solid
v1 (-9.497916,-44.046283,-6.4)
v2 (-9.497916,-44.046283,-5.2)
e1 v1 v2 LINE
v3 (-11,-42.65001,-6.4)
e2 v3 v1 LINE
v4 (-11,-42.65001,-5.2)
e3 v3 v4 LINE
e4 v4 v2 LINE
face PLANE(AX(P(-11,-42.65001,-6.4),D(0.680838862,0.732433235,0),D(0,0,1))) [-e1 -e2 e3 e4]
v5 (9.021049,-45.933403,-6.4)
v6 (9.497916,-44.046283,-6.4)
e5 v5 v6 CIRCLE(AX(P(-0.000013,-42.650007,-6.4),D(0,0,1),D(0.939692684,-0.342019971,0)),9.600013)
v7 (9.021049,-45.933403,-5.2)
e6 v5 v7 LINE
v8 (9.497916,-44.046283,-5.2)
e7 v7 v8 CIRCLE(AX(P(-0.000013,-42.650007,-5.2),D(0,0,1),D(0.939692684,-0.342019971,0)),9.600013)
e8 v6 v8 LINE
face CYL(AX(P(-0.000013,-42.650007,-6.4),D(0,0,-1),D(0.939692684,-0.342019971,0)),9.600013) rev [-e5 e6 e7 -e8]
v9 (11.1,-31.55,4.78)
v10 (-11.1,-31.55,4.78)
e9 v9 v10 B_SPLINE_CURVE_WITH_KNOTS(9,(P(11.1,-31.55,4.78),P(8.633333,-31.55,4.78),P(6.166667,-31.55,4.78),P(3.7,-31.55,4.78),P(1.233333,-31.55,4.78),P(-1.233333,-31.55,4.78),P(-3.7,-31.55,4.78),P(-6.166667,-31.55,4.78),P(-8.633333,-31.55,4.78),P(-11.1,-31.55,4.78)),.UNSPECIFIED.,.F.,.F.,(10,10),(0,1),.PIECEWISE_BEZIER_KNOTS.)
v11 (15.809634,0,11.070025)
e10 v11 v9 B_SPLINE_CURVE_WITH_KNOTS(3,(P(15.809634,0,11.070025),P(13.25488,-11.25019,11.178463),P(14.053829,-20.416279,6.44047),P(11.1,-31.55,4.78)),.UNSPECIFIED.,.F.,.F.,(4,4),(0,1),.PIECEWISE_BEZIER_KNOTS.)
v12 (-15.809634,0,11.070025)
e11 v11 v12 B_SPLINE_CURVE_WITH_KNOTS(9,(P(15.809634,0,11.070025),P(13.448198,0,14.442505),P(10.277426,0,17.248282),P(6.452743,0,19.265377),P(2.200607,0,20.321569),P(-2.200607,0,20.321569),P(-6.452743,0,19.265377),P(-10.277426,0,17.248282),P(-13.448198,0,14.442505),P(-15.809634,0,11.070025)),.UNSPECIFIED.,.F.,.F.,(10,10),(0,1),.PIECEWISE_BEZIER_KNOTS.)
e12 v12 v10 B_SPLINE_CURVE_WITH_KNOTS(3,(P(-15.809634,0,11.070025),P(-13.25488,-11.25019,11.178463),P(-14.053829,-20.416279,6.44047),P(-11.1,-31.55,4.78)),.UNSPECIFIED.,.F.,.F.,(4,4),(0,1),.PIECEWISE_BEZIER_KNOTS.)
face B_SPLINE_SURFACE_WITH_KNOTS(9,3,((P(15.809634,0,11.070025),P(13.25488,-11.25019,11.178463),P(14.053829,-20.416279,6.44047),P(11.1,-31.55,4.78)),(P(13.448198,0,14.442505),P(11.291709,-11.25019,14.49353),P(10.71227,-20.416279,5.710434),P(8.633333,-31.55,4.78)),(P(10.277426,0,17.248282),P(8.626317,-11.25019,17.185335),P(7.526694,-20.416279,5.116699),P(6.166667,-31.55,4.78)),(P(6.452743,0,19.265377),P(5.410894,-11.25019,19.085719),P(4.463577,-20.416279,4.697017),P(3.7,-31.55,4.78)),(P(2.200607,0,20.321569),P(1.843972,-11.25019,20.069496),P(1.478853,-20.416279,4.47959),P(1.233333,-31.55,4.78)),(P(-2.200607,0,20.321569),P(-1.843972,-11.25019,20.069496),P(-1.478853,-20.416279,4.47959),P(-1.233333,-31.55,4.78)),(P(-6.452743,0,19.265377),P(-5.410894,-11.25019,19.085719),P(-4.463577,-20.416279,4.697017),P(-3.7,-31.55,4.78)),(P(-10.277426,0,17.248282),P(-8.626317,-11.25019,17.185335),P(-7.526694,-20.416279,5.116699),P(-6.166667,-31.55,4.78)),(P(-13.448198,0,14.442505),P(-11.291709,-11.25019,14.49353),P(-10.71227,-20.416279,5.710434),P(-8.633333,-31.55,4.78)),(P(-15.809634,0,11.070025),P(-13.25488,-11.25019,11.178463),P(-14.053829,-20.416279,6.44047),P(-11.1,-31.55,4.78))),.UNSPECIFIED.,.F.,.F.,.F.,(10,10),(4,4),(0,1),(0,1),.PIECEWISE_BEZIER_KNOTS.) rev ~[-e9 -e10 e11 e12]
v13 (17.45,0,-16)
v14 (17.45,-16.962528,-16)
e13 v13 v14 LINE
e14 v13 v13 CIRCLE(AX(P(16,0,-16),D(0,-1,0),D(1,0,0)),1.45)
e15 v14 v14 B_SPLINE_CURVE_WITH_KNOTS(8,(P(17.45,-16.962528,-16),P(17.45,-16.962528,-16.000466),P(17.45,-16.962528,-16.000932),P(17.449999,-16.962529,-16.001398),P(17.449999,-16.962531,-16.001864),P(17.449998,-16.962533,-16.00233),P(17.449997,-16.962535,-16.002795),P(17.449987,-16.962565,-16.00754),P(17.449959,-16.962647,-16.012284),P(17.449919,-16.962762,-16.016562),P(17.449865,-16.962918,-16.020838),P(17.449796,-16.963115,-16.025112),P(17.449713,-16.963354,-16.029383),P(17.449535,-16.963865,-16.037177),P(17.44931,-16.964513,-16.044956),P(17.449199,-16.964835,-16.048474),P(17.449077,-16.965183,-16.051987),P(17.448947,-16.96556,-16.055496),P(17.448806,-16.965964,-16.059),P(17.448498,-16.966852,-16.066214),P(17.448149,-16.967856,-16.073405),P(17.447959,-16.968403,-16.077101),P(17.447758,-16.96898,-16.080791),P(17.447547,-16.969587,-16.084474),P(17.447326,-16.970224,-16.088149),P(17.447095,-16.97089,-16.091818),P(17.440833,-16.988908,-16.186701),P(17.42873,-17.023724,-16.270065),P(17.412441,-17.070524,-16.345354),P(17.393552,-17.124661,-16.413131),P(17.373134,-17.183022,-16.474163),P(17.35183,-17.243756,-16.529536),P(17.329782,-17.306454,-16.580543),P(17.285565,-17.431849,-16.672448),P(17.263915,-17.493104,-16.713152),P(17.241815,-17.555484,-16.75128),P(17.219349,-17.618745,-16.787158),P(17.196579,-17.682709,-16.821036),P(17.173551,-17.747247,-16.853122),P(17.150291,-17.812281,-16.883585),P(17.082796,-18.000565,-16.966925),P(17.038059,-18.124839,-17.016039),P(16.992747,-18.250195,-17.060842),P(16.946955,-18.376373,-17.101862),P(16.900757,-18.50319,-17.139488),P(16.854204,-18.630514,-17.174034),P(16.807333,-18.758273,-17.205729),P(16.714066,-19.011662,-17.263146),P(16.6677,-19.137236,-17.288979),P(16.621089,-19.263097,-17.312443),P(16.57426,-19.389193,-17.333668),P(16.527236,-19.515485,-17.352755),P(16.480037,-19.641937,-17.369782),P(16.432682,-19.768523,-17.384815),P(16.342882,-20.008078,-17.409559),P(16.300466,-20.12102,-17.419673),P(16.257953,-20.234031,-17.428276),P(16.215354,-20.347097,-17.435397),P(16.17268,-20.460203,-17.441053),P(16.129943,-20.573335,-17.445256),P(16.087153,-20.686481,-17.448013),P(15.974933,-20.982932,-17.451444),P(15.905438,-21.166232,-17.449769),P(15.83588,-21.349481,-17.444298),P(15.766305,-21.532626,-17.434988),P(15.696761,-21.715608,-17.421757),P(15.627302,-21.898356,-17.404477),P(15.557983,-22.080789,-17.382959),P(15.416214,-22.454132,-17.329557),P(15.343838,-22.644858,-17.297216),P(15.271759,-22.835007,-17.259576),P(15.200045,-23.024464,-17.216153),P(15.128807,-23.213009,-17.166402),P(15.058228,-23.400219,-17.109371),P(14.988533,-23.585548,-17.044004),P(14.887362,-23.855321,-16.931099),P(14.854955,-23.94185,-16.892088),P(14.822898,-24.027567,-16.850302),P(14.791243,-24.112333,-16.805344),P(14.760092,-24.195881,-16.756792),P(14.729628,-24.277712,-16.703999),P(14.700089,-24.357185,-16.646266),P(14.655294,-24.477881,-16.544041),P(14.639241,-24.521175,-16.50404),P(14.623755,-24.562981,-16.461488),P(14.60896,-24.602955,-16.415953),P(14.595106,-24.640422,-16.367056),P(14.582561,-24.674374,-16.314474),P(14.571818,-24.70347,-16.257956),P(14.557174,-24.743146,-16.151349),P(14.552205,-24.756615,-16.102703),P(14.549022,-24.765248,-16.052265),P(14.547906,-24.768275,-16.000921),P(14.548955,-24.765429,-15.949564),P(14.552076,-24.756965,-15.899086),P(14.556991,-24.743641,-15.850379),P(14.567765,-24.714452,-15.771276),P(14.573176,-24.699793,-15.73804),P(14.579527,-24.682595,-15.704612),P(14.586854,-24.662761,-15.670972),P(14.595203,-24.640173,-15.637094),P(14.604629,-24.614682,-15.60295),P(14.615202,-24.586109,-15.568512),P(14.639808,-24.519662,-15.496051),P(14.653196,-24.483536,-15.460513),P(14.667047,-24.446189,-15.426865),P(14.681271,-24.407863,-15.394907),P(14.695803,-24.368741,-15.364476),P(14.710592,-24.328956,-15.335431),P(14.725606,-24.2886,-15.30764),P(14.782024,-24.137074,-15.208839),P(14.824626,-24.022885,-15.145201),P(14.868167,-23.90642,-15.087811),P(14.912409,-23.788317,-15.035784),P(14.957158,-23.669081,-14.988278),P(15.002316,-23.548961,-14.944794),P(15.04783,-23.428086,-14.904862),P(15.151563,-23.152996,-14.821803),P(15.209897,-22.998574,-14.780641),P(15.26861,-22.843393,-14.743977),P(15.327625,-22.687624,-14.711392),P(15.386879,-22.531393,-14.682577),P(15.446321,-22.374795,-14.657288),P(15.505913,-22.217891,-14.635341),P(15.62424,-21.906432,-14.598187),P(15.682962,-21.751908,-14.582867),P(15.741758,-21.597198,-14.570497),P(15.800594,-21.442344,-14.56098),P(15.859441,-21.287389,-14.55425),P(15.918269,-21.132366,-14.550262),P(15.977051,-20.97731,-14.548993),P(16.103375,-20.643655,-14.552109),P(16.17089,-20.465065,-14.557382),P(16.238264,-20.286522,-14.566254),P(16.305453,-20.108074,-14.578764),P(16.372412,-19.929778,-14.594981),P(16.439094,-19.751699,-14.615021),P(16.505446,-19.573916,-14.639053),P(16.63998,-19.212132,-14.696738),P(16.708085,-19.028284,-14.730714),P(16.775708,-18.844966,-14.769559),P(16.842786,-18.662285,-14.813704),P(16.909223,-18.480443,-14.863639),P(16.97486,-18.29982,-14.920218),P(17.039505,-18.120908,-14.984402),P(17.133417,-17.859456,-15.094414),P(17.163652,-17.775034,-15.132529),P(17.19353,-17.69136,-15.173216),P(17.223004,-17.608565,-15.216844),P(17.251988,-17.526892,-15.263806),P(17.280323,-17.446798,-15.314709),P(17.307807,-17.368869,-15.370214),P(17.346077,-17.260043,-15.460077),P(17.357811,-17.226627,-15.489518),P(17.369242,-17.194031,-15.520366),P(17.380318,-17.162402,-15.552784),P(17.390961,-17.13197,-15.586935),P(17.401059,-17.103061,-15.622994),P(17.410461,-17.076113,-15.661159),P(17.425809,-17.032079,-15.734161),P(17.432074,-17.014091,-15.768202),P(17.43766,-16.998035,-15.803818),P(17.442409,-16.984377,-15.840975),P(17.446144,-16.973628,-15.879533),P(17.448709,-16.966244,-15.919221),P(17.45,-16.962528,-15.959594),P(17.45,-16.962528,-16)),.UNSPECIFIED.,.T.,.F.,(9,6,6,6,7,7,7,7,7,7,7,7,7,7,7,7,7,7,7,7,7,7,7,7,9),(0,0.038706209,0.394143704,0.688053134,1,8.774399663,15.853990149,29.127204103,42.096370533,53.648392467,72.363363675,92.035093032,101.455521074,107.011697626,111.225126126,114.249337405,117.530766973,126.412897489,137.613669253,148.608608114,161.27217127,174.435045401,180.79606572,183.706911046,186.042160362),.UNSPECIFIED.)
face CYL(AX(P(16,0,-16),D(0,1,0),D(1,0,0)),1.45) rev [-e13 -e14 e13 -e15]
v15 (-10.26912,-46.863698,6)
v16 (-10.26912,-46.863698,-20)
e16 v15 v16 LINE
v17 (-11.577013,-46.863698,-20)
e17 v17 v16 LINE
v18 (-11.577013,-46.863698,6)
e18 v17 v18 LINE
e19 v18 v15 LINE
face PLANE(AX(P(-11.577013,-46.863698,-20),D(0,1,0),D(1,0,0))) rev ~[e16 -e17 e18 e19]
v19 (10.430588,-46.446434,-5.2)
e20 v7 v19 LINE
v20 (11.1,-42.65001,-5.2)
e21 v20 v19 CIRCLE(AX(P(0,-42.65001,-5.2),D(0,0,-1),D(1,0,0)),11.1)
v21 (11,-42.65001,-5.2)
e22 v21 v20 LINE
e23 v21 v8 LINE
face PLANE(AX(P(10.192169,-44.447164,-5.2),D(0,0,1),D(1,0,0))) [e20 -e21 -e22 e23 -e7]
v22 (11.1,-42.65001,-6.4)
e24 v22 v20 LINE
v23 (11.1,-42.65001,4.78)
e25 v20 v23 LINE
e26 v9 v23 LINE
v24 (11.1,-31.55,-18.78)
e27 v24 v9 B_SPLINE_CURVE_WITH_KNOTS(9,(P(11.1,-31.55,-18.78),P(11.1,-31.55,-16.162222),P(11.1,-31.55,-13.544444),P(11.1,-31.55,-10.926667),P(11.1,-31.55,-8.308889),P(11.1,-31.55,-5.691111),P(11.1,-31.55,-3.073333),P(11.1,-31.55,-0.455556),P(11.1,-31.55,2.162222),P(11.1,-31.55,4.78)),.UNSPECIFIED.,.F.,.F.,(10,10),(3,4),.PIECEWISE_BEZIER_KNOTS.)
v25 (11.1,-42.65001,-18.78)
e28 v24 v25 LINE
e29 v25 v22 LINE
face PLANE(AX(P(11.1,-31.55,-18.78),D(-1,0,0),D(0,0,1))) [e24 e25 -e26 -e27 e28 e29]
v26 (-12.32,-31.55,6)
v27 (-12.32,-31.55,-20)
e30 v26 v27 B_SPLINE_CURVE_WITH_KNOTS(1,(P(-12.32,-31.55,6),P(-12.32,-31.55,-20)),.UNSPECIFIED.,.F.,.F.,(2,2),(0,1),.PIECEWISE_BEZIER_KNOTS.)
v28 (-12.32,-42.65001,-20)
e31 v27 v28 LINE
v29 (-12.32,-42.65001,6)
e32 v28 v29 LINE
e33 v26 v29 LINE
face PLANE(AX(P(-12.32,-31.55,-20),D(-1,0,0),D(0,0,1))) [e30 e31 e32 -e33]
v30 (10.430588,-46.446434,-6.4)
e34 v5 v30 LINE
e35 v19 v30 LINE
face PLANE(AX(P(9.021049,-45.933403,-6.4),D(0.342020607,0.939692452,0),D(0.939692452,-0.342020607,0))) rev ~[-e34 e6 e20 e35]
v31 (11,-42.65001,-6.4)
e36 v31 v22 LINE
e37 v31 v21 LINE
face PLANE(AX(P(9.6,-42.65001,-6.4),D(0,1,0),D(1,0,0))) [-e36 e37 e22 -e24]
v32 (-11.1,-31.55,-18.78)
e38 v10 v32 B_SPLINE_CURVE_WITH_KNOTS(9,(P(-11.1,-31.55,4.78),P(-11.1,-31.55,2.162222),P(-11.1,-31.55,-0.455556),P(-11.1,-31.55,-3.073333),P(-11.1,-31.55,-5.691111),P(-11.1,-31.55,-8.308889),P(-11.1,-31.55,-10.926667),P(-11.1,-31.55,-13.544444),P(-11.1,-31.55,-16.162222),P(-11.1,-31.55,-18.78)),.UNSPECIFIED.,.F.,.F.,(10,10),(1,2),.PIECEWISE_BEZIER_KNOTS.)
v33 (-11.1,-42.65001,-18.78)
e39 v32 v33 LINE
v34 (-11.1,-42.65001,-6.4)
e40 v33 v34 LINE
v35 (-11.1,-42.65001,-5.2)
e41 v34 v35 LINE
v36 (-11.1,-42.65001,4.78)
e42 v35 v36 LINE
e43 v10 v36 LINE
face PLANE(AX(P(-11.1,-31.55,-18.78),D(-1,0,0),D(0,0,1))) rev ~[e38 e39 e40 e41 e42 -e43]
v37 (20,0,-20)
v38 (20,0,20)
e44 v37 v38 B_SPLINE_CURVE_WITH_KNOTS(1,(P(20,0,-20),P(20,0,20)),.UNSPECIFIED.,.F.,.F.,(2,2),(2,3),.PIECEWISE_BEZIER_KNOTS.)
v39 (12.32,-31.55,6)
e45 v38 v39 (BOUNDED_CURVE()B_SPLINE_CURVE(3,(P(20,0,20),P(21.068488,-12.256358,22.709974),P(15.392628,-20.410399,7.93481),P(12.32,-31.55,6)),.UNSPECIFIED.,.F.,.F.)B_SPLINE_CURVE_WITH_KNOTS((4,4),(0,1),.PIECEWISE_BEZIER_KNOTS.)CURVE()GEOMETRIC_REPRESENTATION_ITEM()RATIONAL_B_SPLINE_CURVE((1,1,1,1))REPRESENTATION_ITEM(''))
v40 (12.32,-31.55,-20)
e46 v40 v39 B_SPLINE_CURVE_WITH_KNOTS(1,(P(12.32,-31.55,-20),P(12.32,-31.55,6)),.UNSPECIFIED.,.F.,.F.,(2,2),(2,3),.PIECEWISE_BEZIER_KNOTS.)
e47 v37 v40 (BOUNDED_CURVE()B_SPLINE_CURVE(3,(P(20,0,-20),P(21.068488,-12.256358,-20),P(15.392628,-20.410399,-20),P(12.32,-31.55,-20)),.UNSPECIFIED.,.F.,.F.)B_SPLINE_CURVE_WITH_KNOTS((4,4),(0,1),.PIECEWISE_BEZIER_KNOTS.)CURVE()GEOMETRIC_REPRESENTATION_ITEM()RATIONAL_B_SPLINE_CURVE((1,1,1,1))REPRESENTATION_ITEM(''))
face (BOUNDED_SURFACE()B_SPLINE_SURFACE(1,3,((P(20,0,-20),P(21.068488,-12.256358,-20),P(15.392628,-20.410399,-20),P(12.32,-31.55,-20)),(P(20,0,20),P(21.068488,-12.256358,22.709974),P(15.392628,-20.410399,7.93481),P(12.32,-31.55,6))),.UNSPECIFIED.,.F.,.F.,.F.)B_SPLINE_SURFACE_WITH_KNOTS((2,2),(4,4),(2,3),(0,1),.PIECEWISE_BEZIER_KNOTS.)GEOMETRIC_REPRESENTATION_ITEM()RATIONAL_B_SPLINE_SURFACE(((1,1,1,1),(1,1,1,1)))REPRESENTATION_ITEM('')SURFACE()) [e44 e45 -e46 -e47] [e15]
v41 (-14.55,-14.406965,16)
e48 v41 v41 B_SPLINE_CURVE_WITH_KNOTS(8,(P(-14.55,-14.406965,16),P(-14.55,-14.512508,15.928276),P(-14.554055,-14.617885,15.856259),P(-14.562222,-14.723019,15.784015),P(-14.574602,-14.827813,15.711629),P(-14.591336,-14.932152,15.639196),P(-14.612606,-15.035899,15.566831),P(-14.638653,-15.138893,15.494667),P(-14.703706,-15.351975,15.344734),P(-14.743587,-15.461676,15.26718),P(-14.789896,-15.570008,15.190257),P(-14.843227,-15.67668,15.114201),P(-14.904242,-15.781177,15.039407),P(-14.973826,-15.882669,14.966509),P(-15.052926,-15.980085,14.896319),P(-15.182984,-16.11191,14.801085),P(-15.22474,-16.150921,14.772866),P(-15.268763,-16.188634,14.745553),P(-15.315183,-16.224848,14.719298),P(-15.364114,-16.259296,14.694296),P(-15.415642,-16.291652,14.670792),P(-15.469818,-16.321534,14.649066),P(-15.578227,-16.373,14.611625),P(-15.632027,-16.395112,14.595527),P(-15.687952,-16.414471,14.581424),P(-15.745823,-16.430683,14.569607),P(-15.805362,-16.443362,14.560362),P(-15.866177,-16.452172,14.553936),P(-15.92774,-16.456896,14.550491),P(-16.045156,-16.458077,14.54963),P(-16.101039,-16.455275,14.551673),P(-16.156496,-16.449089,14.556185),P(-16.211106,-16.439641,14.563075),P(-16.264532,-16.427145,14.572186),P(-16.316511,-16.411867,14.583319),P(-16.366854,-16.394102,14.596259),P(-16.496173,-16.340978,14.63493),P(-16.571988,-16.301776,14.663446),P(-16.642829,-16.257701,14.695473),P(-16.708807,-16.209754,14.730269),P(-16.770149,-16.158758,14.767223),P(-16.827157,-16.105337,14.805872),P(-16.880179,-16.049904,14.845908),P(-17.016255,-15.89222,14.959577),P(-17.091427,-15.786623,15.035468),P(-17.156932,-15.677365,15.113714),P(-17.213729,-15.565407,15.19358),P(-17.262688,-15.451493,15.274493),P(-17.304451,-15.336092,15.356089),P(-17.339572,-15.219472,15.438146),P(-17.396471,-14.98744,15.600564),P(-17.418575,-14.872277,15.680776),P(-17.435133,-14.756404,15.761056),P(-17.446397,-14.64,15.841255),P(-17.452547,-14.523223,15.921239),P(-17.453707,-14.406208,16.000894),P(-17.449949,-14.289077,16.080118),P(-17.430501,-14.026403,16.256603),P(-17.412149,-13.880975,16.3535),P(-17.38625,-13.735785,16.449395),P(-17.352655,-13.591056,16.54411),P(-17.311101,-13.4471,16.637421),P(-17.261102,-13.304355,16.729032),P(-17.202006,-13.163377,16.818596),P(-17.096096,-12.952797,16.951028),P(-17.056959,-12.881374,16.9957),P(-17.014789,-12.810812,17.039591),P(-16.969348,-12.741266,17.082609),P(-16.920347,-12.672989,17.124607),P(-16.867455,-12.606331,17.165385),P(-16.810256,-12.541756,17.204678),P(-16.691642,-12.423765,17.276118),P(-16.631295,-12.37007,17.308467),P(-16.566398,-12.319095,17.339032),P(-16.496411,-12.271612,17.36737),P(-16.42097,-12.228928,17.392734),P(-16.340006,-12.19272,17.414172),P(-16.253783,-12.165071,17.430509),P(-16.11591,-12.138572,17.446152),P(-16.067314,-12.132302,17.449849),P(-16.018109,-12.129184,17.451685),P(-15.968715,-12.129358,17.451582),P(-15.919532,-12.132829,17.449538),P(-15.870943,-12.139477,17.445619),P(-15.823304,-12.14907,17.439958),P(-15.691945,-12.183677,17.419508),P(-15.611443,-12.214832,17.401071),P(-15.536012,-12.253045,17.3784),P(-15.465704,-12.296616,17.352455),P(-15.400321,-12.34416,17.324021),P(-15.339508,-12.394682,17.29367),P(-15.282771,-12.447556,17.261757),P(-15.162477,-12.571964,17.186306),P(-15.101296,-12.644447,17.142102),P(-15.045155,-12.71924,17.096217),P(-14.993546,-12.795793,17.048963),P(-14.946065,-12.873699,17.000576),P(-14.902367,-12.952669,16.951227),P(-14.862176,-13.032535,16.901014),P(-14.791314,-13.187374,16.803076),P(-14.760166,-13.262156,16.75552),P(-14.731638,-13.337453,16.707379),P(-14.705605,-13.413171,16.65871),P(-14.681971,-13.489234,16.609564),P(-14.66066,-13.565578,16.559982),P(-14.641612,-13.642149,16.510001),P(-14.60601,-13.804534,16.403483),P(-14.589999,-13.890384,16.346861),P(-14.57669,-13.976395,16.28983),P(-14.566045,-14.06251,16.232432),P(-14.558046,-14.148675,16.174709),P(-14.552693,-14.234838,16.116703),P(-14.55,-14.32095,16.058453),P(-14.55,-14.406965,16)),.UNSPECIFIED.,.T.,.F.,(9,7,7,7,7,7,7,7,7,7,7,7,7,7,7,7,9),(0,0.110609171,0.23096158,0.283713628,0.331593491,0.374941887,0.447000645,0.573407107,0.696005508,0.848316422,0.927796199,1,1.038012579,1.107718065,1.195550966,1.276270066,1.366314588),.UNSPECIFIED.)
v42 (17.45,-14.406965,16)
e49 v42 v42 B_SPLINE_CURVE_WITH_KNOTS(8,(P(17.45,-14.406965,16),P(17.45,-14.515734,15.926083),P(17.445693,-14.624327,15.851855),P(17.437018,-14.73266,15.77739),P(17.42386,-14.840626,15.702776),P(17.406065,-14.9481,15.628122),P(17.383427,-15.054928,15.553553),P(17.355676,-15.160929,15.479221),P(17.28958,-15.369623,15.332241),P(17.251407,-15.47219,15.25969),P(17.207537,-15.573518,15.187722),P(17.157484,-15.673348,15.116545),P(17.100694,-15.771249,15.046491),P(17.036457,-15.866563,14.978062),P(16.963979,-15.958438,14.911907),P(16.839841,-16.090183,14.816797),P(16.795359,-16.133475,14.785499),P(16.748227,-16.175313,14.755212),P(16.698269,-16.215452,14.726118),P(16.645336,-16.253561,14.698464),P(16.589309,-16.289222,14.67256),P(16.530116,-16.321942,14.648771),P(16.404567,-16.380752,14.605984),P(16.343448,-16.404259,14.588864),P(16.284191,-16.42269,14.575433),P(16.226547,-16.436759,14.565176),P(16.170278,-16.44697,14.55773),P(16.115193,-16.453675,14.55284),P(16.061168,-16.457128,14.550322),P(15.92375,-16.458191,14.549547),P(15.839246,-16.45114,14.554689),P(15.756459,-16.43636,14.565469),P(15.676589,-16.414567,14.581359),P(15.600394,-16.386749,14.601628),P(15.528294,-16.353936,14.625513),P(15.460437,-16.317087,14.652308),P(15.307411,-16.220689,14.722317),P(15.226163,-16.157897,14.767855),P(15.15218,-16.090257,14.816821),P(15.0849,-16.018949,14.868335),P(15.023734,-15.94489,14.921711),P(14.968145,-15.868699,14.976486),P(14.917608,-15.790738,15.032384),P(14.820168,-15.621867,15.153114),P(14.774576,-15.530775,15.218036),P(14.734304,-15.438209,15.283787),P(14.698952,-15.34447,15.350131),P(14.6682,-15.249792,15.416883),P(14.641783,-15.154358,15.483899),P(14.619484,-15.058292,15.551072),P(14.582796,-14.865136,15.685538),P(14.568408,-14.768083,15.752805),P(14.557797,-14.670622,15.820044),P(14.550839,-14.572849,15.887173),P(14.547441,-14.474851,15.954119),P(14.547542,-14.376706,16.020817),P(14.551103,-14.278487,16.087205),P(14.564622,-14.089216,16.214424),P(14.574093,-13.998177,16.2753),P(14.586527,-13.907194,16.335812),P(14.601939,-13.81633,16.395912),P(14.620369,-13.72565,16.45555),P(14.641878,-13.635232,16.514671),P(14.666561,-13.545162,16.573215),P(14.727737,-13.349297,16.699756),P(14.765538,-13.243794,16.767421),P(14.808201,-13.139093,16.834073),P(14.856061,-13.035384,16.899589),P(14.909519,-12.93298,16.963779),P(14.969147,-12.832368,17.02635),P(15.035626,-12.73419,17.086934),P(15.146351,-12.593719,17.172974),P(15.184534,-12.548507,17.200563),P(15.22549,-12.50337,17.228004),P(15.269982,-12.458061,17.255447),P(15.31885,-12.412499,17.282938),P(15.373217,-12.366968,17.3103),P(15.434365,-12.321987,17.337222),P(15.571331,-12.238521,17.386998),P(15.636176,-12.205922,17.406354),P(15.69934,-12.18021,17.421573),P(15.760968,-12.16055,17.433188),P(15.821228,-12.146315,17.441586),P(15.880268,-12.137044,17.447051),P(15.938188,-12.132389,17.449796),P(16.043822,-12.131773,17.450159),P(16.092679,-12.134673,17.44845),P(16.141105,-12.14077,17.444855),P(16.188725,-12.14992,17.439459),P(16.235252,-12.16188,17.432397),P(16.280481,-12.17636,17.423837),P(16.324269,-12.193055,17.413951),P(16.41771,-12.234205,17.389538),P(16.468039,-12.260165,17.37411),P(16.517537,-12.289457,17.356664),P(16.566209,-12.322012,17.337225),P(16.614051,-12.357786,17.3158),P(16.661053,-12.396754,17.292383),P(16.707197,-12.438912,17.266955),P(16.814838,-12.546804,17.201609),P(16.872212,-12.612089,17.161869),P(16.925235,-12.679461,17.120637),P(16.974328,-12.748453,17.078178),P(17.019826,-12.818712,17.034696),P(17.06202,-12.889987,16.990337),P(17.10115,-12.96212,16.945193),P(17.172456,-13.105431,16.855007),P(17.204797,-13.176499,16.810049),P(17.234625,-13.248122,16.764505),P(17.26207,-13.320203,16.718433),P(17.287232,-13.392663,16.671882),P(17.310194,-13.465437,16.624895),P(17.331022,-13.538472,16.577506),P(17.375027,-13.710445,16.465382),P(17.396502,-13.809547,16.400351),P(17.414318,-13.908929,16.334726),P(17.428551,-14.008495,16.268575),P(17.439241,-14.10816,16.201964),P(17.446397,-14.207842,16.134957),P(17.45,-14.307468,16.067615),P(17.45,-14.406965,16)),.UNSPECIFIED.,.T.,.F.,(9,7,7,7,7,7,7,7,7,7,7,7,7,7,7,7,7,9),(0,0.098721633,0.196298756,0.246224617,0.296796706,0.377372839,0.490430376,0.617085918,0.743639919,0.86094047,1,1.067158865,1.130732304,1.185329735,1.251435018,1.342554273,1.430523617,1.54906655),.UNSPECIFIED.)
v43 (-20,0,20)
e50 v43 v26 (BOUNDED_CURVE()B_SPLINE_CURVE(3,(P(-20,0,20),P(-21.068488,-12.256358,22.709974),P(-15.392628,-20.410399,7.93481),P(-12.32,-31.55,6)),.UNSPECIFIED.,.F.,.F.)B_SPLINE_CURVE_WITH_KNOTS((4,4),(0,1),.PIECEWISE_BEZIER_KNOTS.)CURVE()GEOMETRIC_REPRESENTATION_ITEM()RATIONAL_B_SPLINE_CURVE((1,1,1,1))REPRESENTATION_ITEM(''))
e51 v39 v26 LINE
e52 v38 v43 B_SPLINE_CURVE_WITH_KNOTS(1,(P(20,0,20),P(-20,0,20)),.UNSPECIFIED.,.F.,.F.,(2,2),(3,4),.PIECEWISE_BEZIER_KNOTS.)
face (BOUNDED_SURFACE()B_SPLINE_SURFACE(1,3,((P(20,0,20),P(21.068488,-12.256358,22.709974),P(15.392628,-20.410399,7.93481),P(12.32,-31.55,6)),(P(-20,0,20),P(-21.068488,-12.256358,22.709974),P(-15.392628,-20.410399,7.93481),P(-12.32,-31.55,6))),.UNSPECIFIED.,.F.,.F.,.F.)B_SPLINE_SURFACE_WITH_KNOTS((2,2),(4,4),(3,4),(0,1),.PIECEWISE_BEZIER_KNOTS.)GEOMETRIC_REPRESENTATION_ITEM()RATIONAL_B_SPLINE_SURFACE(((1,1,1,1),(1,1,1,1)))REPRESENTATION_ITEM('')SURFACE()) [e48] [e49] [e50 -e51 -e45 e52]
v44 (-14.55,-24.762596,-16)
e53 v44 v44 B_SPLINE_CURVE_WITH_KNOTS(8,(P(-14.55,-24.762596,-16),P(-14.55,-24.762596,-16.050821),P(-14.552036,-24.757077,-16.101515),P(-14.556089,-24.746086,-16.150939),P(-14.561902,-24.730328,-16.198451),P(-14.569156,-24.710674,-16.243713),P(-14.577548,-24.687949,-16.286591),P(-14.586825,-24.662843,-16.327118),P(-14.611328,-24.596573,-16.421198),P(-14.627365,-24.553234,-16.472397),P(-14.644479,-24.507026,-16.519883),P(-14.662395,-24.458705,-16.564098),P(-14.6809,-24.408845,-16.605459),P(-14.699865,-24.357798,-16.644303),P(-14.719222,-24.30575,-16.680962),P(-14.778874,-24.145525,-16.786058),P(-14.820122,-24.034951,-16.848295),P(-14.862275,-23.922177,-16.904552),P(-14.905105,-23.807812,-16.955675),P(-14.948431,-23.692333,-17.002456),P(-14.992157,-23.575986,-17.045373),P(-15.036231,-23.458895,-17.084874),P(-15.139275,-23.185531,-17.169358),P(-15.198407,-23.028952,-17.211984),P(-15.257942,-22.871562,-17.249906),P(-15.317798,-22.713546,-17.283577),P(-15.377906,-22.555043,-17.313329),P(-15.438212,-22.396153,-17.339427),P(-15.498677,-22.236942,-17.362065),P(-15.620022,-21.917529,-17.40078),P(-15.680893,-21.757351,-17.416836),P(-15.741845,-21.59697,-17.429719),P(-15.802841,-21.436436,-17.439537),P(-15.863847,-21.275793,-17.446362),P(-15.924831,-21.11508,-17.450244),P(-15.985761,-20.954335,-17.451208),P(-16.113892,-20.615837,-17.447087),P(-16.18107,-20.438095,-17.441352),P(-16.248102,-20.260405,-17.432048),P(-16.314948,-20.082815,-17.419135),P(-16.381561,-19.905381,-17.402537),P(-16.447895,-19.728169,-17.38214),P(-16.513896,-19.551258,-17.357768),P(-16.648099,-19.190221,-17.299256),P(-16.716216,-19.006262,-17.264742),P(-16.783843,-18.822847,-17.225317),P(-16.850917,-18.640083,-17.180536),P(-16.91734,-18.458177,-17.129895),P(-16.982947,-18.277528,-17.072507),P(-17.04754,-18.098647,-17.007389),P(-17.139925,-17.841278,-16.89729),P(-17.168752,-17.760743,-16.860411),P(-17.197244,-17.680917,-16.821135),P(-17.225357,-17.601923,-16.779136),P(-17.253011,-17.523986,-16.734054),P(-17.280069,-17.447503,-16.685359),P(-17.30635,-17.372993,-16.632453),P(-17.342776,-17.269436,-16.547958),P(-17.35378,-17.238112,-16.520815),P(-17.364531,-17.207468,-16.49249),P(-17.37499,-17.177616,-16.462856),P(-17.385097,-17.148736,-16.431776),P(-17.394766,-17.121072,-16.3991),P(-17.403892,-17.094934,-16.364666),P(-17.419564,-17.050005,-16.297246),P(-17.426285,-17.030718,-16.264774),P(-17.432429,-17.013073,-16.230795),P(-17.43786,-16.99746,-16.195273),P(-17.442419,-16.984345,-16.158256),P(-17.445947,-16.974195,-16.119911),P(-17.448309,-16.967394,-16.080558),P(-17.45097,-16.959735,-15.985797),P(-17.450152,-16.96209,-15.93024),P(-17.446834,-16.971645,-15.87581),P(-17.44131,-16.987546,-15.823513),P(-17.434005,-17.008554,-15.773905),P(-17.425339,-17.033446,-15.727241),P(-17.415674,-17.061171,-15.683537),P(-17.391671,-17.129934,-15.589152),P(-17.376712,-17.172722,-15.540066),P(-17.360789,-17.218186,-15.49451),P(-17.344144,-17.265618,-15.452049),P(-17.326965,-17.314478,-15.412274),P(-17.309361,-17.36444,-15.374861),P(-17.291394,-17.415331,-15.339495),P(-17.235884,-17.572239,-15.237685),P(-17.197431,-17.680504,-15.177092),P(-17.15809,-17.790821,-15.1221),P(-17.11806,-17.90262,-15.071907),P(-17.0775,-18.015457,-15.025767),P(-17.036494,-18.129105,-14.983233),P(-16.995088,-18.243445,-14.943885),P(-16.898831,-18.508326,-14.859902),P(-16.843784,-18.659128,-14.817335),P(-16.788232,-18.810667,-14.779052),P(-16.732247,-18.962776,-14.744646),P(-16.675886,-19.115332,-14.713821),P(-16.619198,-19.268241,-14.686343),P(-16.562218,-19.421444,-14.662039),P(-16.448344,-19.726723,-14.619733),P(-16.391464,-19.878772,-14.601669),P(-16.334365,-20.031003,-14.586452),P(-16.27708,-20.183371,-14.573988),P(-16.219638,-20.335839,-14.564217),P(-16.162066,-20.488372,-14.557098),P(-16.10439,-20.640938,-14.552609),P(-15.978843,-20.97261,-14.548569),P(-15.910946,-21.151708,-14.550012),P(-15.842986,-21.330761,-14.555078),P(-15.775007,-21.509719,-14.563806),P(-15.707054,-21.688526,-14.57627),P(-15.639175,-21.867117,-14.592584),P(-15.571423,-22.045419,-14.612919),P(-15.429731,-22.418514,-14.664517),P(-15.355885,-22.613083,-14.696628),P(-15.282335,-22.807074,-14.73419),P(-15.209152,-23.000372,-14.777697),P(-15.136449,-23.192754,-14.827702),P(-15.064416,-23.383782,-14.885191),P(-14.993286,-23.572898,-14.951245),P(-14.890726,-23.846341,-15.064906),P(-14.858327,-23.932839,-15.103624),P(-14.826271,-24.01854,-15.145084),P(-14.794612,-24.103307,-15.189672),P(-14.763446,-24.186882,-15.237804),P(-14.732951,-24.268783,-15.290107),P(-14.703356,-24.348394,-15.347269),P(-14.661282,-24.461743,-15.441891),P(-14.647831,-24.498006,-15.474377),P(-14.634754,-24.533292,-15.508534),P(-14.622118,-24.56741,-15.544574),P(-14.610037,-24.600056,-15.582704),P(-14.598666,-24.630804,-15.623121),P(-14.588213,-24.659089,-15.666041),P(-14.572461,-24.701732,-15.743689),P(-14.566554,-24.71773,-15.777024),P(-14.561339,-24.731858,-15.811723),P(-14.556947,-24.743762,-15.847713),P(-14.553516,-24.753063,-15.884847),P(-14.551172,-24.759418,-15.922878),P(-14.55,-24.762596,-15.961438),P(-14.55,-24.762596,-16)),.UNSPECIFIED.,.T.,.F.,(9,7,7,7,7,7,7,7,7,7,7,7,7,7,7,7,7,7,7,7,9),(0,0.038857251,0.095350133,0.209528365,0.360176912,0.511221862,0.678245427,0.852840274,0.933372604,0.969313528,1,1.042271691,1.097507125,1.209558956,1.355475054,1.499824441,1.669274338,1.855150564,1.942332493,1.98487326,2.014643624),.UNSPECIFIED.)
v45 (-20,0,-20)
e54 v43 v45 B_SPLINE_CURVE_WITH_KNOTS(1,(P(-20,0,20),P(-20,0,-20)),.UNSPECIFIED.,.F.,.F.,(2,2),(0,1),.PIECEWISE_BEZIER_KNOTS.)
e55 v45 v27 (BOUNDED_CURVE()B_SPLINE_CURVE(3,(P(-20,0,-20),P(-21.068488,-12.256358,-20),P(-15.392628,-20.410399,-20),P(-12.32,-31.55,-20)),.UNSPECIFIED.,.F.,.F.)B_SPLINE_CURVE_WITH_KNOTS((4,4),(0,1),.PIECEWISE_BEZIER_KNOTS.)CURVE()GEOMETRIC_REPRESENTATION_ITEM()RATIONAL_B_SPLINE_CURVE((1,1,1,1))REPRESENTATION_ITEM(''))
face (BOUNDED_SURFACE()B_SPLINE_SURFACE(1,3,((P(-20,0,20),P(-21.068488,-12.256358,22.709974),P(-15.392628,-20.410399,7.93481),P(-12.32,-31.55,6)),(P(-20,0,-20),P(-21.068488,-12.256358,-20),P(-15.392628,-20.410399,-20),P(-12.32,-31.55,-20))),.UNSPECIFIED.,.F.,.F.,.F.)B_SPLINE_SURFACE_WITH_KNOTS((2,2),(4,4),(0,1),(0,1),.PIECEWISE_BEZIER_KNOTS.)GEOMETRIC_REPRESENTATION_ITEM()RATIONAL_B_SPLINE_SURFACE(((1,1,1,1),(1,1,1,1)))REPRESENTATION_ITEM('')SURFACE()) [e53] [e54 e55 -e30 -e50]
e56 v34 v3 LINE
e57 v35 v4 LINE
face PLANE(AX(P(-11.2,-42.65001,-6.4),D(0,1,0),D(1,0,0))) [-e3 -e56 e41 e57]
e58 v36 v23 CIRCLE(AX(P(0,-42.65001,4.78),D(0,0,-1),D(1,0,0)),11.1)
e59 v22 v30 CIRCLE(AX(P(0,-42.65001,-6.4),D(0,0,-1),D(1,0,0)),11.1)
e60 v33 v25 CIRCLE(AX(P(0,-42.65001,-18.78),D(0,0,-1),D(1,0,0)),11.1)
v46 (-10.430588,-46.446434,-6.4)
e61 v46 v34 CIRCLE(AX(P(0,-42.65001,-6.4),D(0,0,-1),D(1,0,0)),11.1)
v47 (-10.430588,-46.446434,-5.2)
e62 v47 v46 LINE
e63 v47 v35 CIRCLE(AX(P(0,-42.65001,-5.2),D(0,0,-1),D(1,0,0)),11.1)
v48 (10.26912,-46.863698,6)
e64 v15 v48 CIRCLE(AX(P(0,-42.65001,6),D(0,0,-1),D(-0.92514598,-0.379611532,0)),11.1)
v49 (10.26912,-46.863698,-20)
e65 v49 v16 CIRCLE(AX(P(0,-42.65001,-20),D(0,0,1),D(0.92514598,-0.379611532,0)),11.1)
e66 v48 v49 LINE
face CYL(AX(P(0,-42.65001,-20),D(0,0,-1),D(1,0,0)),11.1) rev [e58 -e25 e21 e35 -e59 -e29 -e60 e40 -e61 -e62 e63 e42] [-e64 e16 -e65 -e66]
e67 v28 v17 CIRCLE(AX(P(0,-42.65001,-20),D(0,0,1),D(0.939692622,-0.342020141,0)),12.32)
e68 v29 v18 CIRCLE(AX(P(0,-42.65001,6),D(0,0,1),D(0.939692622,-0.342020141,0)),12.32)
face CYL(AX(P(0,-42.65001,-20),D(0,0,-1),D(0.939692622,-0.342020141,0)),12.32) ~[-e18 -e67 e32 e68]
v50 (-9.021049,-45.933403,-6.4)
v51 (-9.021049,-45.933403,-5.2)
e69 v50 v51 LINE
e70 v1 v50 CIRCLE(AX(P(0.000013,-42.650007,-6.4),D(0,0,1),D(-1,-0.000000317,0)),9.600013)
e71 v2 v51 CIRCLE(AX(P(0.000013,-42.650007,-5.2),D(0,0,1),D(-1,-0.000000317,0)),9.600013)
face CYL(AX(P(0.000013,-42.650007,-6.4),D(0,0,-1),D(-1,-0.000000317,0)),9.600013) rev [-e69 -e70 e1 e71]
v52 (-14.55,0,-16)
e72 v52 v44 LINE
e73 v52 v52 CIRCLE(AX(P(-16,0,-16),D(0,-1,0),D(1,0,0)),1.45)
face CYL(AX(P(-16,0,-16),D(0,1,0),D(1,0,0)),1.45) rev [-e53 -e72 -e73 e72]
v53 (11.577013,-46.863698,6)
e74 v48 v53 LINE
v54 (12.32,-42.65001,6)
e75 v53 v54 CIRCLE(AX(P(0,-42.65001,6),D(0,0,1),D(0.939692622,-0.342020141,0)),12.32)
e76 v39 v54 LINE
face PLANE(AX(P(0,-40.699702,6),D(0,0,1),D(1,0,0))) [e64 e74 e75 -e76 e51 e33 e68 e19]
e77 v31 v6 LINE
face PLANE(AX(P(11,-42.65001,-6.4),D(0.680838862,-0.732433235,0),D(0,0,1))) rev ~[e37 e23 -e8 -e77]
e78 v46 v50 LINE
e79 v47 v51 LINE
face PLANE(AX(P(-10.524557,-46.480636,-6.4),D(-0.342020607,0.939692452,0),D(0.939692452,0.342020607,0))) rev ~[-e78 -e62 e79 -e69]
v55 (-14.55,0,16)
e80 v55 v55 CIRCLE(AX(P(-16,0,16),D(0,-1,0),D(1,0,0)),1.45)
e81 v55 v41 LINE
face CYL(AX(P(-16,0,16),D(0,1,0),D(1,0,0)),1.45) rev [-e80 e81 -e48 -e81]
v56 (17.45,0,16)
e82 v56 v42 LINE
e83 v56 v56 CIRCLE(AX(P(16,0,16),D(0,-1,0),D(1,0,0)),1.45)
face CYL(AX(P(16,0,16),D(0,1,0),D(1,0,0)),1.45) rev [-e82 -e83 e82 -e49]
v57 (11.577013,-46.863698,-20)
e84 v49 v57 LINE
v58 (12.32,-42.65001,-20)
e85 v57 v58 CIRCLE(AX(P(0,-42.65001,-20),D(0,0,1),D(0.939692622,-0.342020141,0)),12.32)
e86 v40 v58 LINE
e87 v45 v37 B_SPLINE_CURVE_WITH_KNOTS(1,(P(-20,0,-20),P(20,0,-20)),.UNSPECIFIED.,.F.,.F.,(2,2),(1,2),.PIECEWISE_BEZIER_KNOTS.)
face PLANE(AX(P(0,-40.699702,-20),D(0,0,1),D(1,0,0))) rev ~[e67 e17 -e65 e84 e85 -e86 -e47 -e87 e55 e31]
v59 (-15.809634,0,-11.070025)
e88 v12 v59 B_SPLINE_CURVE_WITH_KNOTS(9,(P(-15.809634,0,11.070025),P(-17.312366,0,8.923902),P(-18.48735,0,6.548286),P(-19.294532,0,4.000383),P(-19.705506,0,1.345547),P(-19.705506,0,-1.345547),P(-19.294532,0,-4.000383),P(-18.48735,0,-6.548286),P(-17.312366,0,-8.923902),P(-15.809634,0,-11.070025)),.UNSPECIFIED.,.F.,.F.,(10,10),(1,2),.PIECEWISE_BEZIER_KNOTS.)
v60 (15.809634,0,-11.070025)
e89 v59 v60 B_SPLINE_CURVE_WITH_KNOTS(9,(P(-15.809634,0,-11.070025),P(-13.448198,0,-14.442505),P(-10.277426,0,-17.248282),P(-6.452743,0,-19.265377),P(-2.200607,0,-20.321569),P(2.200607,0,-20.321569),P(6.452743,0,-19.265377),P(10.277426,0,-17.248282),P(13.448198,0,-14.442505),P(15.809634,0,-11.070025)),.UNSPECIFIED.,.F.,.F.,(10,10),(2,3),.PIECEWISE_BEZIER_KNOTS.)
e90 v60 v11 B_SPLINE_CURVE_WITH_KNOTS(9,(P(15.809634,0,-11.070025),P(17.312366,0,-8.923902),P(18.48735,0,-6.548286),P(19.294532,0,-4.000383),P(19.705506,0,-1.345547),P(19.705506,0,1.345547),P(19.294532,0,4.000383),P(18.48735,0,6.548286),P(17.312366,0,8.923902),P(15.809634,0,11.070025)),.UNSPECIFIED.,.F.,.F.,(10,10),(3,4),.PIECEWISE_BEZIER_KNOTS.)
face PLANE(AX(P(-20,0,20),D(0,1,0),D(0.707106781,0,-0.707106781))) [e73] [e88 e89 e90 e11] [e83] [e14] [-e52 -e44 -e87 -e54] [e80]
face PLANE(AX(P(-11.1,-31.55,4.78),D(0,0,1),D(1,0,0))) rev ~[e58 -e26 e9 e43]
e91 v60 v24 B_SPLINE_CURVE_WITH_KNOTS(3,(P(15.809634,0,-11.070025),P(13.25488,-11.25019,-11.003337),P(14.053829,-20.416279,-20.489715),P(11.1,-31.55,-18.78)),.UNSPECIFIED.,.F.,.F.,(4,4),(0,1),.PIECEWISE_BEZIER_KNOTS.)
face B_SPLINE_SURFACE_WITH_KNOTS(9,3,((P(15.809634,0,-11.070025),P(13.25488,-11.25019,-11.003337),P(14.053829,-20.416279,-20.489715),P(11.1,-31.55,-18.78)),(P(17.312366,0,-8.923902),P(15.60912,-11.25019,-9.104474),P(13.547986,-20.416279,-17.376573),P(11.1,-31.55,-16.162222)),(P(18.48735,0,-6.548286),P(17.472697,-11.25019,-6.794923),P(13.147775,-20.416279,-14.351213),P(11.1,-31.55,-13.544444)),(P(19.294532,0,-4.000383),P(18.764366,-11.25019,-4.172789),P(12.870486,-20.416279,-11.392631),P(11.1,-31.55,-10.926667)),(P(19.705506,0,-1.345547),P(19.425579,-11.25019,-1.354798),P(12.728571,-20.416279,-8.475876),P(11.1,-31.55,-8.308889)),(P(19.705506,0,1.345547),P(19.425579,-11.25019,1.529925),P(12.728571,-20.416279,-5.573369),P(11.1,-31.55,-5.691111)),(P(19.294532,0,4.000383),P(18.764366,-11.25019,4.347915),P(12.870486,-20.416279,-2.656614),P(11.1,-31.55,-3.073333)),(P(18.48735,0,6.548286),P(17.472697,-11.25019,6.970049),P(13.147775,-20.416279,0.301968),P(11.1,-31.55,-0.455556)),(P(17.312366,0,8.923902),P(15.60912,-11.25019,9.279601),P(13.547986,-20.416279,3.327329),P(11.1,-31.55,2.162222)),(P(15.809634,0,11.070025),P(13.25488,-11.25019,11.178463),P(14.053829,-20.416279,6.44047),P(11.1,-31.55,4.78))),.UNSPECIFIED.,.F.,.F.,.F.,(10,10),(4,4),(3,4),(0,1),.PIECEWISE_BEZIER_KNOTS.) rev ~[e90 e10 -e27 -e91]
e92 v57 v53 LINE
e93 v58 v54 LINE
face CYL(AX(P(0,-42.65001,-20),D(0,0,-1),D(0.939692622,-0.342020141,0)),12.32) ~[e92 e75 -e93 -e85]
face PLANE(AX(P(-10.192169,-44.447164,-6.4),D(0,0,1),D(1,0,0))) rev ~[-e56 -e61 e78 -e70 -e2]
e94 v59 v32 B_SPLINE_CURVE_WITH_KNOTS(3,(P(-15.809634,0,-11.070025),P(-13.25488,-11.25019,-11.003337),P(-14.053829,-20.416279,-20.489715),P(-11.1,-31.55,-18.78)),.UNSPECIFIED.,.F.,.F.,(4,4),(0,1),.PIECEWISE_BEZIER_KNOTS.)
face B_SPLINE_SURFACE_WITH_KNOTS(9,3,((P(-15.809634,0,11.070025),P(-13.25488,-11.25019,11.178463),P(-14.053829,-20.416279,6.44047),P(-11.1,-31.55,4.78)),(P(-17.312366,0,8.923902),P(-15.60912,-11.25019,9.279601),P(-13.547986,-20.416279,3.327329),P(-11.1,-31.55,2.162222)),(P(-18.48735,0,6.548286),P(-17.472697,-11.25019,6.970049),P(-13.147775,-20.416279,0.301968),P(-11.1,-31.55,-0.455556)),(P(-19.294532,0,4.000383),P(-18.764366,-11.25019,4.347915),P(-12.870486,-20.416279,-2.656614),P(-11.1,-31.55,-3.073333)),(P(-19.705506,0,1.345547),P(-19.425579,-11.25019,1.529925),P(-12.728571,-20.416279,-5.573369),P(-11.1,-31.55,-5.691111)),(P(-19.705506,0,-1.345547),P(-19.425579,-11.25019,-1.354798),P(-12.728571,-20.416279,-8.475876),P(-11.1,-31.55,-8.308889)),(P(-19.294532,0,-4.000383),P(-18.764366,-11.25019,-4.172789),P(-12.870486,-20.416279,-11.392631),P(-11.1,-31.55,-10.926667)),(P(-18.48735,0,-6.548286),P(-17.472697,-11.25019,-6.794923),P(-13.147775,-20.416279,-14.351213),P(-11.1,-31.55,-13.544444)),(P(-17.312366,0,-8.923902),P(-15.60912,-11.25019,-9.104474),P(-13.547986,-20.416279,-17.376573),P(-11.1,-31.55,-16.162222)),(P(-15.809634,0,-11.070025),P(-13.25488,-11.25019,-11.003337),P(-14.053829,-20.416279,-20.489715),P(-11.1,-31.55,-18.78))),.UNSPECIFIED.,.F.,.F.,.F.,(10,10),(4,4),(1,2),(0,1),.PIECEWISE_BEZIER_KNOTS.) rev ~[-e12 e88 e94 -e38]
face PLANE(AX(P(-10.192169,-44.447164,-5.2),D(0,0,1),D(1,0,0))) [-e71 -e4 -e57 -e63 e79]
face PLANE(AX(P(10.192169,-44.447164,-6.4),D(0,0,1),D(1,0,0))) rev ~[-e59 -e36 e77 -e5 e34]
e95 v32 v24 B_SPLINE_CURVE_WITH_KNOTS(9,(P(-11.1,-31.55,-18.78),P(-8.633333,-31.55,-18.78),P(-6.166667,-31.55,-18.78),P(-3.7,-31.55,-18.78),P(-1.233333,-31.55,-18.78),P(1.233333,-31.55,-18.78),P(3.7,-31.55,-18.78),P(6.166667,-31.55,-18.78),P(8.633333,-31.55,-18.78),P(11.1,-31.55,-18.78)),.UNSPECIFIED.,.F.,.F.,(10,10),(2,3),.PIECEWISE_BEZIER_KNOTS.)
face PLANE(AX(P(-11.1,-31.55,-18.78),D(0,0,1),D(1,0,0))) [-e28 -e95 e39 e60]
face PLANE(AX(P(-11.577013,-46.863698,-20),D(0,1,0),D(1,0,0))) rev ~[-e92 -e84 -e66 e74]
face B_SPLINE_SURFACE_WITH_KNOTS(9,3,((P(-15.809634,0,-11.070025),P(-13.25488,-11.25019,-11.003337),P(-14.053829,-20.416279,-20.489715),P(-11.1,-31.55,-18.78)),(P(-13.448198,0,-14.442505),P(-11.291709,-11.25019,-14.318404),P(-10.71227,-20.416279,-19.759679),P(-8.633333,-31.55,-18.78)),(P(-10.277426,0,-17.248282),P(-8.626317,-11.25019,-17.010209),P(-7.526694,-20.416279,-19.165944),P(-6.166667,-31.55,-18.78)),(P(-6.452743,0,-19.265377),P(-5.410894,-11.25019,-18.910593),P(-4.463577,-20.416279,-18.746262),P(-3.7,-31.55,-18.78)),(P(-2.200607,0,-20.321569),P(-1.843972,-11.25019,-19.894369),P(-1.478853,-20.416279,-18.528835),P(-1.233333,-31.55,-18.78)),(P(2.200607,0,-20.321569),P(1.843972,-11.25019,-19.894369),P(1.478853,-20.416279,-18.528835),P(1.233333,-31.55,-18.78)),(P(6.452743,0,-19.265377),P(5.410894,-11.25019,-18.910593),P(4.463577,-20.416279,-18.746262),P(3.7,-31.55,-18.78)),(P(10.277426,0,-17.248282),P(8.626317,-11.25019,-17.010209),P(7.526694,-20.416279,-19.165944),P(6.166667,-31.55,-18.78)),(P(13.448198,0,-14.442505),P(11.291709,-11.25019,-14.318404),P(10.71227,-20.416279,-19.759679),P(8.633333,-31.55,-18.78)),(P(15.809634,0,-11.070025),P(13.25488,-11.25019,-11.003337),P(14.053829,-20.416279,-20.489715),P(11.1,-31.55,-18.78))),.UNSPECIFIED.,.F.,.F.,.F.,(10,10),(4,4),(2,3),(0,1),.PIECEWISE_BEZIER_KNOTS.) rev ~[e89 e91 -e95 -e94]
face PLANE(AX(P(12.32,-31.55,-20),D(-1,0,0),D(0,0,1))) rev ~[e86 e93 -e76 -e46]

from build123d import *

# Parameters (mm, degrees)
SKETCH_W        = 40
SKETCH_H        = 40
SKETCH001_W     = 40
SKETCH001_H     = 40
SKETCH002_W     = 28.2
SKETCH002_H     = 28
SKETCH015_W     = 24.64
SKETCH015_H     = 26
SKETCH003_W     = 24.64
SKETCH003_H     = 26
PAD001_DEPTH    = 11.10001
PAD_DEPTH       = 26
SKETCH013_W     = 24.64
SKETCH013_H     = 24.64
SKETCH009_W     = 22.2
SKETCH009_H     = 23.56
SKETCH017_W     = 22.2
SKETCH017_H     = 23.56
POCKET001_DEPTH = 11.10001
SKETCH010_R     = 11.1
POCKET_DEPTH    = 40
PAD002_DEPTH    = 1.2
SKETCH011_R     = 1.45
POCKET002_DEPTH = 46.864698
CHAMFER_SIZE    = 1.4


with BuildPart() as part:
    # Sketch → AdditiveLoft section 0
    with BuildSketch(Plane.XZ):
        Rectangle(SKETCH_W, SKETCH_H)
    # Sketch001 → AdditiveLoft section 1
    with BuildSketch(Plane.XZ.offset(6)):
        Rectangle(SKETCH001_W, SKETCH001_H)
    # Sketch002 → AdditiveLoft section 2
    with BuildSketch(Plane.XZ.offset(26)):
        with Locations((0, -6)):
            Rectangle(SKETCH002_W, SKETCH002_H)
    # Sketch015 → AdditiveLoft section 3
    with BuildSketch(Plane.XZ.offset(31.55)):
        with Locations((0, -7)):
            Rectangle(SKETCH015_W, SKETCH015_H)
    loft()

    # Sketch003 → Pad001 (new body)
    with BuildSketch(Plane.XZ.offset(31.55)):
        with Locations((0, -7)):
            Rectangle(SKETCH003_W, SKETCH003_H)
    extrude(amount=PAD001_DEPTH)

    # Sketch004 → Pad (join)
    with BuildSketch(Plane.XY.offset(-20)):
        with BuildLine():
            ThreePointArc((11.577013, -46.863698), (0, -30.33001), (-11.577013, -46.863698))
            Line((-11.577013, -46.863698), (11.577013, -46.863698))
        make_face()
    extrude(amount=PAD_DEPTH)

    # Sketch006 → SubtractiveLoft section 0
    with BuildSketch(Plane.XZ):
        with BuildLine():
            ThreePointArc((15.809634, 11.070025), (0, 19.3), (-15.809634, 11.070025))
            ThreePointArc((-15.809634, 11.070025), (-19.3, 0), (-15.809634, -11.070025))
            ThreePointArc((-15.809634, -11.070025), (0, -19.3), (15.809634, -11.070025))
            ThreePointArc((15.809634, -11.070025), (19.3, 0), (15.809634, 11.070025))
        make_face()
    # Sketch005 → SubtractiveLoft section 1
    with BuildSketch(Plane.XZ.offset(6)):
        with BuildLine():
            ThreePointArc((14.699251, 10.690132), (0, 17.939), (-14.699251, 10.690132))
            ThreePointArc((-14.699251, 10.690132), (-18.528, -0.589), (-14.699251, -11.868132))
            ThreePointArc((-14.699251, -11.868132), (0, -19.117), (14.699251, -11.868132))
            ThreePointArc((14.699251, -11.868132), (18.528, -0.589), (14.699251, 10.690132))
        make_face()
    # Sketch013 → SubtractiveLoft section 2
    with BuildSketch(Plane.XZ.offset(26)):
        with Locations((0, -6.46)):
            Rectangle(SKETCH013_W, SKETCH013_H)
    # Sketch009 → SubtractiveLoft section 3
    with BuildSketch(Plane.XZ.offset(31.55)):
        with Locations((0, -7)):
            Rectangle(SKETCH009_W, SKETCH009_H)
    loft(mode=Mode.SUBTRACT)

    # Sketch017 → Pocket001 (cut)
    with BuildSketch(Plane.XZ.offset(31.55)):
        with Locations((0, -7)):
            Rectangle(SKETCH017_W, SKETCH017_H)
    extrude(amount=POCKET001_DEPTH, mode=Mode.SUBTRACT)

    # Sketch010 → Pocket (cut)
    with BuildSketch(Plane.XY.offset(-20)):
        with Locations((0, -42.65001)):
            Circle(SKETCH010_R)
    extrude(amount=POCKET_DEPTH, mode=Mode.SUBTRACT)

    # Sketch012 → Pad002 (join)
    with BuildSketch(Plane.XY.offset(-6.4)):
        with BuildLine():
            ThreePointArc((-11.2, -42.65001), (-11.029847, -44.59487), (-10.524557, -46.480636))
            Line((-10.524557, -46.480636), (-9.021049, -45.933403))
            ThreePointArc((-9.6, -42.65001), (-9.454154, -44.317033), (-9.021049, -45.933403))
            Line((-11.2, -42.65001), (-9.6, -42.65001))
        make_face()
        with BuildLine():
            Line((9.021049, -45.933403), (10.524557, -46.480636))
            ThreePointArc((10.524557, -46.480636), (11.029847, -44.59487), (11.2, -42.65001))
            Line((9.6, -42.65001), (11.2, -42.65001))
            ThreePointArc((9.021049, -45.933403), (9.454154, -44.317033), (9.6, -42.65001))
        make_face()
    extrude(amount=PAD002_DEPTH)

    # Sketch011 → Pocket002 (cut, through all)
    with BuildSketch(Plane.XZ):
        with Locations((-16, 16)):
            Circle(SKETCH011_R)
        with Locations((16, 16)):
            Circle(SKETCH011_R)
        with Locations((16, -16)):
            Circle(SKETCH011_R)
        with Locations((-16, -16)):
            Circle(SKETCH011_R)
    extrude(amount=POCKET002_DEPTH, mode=Mode.SUBTRACT)

    # Chamfer
    chamfer_edges = [part.edges().sort_by_distance(p)[0] for p in [
        (9.6, -42.65001, -5.8),
        (-9.6, -42.65001, -5.8),
    ]]
    chamfer(chamfer_edges, length=CHAMFER_SIZE)


solid = part.part
